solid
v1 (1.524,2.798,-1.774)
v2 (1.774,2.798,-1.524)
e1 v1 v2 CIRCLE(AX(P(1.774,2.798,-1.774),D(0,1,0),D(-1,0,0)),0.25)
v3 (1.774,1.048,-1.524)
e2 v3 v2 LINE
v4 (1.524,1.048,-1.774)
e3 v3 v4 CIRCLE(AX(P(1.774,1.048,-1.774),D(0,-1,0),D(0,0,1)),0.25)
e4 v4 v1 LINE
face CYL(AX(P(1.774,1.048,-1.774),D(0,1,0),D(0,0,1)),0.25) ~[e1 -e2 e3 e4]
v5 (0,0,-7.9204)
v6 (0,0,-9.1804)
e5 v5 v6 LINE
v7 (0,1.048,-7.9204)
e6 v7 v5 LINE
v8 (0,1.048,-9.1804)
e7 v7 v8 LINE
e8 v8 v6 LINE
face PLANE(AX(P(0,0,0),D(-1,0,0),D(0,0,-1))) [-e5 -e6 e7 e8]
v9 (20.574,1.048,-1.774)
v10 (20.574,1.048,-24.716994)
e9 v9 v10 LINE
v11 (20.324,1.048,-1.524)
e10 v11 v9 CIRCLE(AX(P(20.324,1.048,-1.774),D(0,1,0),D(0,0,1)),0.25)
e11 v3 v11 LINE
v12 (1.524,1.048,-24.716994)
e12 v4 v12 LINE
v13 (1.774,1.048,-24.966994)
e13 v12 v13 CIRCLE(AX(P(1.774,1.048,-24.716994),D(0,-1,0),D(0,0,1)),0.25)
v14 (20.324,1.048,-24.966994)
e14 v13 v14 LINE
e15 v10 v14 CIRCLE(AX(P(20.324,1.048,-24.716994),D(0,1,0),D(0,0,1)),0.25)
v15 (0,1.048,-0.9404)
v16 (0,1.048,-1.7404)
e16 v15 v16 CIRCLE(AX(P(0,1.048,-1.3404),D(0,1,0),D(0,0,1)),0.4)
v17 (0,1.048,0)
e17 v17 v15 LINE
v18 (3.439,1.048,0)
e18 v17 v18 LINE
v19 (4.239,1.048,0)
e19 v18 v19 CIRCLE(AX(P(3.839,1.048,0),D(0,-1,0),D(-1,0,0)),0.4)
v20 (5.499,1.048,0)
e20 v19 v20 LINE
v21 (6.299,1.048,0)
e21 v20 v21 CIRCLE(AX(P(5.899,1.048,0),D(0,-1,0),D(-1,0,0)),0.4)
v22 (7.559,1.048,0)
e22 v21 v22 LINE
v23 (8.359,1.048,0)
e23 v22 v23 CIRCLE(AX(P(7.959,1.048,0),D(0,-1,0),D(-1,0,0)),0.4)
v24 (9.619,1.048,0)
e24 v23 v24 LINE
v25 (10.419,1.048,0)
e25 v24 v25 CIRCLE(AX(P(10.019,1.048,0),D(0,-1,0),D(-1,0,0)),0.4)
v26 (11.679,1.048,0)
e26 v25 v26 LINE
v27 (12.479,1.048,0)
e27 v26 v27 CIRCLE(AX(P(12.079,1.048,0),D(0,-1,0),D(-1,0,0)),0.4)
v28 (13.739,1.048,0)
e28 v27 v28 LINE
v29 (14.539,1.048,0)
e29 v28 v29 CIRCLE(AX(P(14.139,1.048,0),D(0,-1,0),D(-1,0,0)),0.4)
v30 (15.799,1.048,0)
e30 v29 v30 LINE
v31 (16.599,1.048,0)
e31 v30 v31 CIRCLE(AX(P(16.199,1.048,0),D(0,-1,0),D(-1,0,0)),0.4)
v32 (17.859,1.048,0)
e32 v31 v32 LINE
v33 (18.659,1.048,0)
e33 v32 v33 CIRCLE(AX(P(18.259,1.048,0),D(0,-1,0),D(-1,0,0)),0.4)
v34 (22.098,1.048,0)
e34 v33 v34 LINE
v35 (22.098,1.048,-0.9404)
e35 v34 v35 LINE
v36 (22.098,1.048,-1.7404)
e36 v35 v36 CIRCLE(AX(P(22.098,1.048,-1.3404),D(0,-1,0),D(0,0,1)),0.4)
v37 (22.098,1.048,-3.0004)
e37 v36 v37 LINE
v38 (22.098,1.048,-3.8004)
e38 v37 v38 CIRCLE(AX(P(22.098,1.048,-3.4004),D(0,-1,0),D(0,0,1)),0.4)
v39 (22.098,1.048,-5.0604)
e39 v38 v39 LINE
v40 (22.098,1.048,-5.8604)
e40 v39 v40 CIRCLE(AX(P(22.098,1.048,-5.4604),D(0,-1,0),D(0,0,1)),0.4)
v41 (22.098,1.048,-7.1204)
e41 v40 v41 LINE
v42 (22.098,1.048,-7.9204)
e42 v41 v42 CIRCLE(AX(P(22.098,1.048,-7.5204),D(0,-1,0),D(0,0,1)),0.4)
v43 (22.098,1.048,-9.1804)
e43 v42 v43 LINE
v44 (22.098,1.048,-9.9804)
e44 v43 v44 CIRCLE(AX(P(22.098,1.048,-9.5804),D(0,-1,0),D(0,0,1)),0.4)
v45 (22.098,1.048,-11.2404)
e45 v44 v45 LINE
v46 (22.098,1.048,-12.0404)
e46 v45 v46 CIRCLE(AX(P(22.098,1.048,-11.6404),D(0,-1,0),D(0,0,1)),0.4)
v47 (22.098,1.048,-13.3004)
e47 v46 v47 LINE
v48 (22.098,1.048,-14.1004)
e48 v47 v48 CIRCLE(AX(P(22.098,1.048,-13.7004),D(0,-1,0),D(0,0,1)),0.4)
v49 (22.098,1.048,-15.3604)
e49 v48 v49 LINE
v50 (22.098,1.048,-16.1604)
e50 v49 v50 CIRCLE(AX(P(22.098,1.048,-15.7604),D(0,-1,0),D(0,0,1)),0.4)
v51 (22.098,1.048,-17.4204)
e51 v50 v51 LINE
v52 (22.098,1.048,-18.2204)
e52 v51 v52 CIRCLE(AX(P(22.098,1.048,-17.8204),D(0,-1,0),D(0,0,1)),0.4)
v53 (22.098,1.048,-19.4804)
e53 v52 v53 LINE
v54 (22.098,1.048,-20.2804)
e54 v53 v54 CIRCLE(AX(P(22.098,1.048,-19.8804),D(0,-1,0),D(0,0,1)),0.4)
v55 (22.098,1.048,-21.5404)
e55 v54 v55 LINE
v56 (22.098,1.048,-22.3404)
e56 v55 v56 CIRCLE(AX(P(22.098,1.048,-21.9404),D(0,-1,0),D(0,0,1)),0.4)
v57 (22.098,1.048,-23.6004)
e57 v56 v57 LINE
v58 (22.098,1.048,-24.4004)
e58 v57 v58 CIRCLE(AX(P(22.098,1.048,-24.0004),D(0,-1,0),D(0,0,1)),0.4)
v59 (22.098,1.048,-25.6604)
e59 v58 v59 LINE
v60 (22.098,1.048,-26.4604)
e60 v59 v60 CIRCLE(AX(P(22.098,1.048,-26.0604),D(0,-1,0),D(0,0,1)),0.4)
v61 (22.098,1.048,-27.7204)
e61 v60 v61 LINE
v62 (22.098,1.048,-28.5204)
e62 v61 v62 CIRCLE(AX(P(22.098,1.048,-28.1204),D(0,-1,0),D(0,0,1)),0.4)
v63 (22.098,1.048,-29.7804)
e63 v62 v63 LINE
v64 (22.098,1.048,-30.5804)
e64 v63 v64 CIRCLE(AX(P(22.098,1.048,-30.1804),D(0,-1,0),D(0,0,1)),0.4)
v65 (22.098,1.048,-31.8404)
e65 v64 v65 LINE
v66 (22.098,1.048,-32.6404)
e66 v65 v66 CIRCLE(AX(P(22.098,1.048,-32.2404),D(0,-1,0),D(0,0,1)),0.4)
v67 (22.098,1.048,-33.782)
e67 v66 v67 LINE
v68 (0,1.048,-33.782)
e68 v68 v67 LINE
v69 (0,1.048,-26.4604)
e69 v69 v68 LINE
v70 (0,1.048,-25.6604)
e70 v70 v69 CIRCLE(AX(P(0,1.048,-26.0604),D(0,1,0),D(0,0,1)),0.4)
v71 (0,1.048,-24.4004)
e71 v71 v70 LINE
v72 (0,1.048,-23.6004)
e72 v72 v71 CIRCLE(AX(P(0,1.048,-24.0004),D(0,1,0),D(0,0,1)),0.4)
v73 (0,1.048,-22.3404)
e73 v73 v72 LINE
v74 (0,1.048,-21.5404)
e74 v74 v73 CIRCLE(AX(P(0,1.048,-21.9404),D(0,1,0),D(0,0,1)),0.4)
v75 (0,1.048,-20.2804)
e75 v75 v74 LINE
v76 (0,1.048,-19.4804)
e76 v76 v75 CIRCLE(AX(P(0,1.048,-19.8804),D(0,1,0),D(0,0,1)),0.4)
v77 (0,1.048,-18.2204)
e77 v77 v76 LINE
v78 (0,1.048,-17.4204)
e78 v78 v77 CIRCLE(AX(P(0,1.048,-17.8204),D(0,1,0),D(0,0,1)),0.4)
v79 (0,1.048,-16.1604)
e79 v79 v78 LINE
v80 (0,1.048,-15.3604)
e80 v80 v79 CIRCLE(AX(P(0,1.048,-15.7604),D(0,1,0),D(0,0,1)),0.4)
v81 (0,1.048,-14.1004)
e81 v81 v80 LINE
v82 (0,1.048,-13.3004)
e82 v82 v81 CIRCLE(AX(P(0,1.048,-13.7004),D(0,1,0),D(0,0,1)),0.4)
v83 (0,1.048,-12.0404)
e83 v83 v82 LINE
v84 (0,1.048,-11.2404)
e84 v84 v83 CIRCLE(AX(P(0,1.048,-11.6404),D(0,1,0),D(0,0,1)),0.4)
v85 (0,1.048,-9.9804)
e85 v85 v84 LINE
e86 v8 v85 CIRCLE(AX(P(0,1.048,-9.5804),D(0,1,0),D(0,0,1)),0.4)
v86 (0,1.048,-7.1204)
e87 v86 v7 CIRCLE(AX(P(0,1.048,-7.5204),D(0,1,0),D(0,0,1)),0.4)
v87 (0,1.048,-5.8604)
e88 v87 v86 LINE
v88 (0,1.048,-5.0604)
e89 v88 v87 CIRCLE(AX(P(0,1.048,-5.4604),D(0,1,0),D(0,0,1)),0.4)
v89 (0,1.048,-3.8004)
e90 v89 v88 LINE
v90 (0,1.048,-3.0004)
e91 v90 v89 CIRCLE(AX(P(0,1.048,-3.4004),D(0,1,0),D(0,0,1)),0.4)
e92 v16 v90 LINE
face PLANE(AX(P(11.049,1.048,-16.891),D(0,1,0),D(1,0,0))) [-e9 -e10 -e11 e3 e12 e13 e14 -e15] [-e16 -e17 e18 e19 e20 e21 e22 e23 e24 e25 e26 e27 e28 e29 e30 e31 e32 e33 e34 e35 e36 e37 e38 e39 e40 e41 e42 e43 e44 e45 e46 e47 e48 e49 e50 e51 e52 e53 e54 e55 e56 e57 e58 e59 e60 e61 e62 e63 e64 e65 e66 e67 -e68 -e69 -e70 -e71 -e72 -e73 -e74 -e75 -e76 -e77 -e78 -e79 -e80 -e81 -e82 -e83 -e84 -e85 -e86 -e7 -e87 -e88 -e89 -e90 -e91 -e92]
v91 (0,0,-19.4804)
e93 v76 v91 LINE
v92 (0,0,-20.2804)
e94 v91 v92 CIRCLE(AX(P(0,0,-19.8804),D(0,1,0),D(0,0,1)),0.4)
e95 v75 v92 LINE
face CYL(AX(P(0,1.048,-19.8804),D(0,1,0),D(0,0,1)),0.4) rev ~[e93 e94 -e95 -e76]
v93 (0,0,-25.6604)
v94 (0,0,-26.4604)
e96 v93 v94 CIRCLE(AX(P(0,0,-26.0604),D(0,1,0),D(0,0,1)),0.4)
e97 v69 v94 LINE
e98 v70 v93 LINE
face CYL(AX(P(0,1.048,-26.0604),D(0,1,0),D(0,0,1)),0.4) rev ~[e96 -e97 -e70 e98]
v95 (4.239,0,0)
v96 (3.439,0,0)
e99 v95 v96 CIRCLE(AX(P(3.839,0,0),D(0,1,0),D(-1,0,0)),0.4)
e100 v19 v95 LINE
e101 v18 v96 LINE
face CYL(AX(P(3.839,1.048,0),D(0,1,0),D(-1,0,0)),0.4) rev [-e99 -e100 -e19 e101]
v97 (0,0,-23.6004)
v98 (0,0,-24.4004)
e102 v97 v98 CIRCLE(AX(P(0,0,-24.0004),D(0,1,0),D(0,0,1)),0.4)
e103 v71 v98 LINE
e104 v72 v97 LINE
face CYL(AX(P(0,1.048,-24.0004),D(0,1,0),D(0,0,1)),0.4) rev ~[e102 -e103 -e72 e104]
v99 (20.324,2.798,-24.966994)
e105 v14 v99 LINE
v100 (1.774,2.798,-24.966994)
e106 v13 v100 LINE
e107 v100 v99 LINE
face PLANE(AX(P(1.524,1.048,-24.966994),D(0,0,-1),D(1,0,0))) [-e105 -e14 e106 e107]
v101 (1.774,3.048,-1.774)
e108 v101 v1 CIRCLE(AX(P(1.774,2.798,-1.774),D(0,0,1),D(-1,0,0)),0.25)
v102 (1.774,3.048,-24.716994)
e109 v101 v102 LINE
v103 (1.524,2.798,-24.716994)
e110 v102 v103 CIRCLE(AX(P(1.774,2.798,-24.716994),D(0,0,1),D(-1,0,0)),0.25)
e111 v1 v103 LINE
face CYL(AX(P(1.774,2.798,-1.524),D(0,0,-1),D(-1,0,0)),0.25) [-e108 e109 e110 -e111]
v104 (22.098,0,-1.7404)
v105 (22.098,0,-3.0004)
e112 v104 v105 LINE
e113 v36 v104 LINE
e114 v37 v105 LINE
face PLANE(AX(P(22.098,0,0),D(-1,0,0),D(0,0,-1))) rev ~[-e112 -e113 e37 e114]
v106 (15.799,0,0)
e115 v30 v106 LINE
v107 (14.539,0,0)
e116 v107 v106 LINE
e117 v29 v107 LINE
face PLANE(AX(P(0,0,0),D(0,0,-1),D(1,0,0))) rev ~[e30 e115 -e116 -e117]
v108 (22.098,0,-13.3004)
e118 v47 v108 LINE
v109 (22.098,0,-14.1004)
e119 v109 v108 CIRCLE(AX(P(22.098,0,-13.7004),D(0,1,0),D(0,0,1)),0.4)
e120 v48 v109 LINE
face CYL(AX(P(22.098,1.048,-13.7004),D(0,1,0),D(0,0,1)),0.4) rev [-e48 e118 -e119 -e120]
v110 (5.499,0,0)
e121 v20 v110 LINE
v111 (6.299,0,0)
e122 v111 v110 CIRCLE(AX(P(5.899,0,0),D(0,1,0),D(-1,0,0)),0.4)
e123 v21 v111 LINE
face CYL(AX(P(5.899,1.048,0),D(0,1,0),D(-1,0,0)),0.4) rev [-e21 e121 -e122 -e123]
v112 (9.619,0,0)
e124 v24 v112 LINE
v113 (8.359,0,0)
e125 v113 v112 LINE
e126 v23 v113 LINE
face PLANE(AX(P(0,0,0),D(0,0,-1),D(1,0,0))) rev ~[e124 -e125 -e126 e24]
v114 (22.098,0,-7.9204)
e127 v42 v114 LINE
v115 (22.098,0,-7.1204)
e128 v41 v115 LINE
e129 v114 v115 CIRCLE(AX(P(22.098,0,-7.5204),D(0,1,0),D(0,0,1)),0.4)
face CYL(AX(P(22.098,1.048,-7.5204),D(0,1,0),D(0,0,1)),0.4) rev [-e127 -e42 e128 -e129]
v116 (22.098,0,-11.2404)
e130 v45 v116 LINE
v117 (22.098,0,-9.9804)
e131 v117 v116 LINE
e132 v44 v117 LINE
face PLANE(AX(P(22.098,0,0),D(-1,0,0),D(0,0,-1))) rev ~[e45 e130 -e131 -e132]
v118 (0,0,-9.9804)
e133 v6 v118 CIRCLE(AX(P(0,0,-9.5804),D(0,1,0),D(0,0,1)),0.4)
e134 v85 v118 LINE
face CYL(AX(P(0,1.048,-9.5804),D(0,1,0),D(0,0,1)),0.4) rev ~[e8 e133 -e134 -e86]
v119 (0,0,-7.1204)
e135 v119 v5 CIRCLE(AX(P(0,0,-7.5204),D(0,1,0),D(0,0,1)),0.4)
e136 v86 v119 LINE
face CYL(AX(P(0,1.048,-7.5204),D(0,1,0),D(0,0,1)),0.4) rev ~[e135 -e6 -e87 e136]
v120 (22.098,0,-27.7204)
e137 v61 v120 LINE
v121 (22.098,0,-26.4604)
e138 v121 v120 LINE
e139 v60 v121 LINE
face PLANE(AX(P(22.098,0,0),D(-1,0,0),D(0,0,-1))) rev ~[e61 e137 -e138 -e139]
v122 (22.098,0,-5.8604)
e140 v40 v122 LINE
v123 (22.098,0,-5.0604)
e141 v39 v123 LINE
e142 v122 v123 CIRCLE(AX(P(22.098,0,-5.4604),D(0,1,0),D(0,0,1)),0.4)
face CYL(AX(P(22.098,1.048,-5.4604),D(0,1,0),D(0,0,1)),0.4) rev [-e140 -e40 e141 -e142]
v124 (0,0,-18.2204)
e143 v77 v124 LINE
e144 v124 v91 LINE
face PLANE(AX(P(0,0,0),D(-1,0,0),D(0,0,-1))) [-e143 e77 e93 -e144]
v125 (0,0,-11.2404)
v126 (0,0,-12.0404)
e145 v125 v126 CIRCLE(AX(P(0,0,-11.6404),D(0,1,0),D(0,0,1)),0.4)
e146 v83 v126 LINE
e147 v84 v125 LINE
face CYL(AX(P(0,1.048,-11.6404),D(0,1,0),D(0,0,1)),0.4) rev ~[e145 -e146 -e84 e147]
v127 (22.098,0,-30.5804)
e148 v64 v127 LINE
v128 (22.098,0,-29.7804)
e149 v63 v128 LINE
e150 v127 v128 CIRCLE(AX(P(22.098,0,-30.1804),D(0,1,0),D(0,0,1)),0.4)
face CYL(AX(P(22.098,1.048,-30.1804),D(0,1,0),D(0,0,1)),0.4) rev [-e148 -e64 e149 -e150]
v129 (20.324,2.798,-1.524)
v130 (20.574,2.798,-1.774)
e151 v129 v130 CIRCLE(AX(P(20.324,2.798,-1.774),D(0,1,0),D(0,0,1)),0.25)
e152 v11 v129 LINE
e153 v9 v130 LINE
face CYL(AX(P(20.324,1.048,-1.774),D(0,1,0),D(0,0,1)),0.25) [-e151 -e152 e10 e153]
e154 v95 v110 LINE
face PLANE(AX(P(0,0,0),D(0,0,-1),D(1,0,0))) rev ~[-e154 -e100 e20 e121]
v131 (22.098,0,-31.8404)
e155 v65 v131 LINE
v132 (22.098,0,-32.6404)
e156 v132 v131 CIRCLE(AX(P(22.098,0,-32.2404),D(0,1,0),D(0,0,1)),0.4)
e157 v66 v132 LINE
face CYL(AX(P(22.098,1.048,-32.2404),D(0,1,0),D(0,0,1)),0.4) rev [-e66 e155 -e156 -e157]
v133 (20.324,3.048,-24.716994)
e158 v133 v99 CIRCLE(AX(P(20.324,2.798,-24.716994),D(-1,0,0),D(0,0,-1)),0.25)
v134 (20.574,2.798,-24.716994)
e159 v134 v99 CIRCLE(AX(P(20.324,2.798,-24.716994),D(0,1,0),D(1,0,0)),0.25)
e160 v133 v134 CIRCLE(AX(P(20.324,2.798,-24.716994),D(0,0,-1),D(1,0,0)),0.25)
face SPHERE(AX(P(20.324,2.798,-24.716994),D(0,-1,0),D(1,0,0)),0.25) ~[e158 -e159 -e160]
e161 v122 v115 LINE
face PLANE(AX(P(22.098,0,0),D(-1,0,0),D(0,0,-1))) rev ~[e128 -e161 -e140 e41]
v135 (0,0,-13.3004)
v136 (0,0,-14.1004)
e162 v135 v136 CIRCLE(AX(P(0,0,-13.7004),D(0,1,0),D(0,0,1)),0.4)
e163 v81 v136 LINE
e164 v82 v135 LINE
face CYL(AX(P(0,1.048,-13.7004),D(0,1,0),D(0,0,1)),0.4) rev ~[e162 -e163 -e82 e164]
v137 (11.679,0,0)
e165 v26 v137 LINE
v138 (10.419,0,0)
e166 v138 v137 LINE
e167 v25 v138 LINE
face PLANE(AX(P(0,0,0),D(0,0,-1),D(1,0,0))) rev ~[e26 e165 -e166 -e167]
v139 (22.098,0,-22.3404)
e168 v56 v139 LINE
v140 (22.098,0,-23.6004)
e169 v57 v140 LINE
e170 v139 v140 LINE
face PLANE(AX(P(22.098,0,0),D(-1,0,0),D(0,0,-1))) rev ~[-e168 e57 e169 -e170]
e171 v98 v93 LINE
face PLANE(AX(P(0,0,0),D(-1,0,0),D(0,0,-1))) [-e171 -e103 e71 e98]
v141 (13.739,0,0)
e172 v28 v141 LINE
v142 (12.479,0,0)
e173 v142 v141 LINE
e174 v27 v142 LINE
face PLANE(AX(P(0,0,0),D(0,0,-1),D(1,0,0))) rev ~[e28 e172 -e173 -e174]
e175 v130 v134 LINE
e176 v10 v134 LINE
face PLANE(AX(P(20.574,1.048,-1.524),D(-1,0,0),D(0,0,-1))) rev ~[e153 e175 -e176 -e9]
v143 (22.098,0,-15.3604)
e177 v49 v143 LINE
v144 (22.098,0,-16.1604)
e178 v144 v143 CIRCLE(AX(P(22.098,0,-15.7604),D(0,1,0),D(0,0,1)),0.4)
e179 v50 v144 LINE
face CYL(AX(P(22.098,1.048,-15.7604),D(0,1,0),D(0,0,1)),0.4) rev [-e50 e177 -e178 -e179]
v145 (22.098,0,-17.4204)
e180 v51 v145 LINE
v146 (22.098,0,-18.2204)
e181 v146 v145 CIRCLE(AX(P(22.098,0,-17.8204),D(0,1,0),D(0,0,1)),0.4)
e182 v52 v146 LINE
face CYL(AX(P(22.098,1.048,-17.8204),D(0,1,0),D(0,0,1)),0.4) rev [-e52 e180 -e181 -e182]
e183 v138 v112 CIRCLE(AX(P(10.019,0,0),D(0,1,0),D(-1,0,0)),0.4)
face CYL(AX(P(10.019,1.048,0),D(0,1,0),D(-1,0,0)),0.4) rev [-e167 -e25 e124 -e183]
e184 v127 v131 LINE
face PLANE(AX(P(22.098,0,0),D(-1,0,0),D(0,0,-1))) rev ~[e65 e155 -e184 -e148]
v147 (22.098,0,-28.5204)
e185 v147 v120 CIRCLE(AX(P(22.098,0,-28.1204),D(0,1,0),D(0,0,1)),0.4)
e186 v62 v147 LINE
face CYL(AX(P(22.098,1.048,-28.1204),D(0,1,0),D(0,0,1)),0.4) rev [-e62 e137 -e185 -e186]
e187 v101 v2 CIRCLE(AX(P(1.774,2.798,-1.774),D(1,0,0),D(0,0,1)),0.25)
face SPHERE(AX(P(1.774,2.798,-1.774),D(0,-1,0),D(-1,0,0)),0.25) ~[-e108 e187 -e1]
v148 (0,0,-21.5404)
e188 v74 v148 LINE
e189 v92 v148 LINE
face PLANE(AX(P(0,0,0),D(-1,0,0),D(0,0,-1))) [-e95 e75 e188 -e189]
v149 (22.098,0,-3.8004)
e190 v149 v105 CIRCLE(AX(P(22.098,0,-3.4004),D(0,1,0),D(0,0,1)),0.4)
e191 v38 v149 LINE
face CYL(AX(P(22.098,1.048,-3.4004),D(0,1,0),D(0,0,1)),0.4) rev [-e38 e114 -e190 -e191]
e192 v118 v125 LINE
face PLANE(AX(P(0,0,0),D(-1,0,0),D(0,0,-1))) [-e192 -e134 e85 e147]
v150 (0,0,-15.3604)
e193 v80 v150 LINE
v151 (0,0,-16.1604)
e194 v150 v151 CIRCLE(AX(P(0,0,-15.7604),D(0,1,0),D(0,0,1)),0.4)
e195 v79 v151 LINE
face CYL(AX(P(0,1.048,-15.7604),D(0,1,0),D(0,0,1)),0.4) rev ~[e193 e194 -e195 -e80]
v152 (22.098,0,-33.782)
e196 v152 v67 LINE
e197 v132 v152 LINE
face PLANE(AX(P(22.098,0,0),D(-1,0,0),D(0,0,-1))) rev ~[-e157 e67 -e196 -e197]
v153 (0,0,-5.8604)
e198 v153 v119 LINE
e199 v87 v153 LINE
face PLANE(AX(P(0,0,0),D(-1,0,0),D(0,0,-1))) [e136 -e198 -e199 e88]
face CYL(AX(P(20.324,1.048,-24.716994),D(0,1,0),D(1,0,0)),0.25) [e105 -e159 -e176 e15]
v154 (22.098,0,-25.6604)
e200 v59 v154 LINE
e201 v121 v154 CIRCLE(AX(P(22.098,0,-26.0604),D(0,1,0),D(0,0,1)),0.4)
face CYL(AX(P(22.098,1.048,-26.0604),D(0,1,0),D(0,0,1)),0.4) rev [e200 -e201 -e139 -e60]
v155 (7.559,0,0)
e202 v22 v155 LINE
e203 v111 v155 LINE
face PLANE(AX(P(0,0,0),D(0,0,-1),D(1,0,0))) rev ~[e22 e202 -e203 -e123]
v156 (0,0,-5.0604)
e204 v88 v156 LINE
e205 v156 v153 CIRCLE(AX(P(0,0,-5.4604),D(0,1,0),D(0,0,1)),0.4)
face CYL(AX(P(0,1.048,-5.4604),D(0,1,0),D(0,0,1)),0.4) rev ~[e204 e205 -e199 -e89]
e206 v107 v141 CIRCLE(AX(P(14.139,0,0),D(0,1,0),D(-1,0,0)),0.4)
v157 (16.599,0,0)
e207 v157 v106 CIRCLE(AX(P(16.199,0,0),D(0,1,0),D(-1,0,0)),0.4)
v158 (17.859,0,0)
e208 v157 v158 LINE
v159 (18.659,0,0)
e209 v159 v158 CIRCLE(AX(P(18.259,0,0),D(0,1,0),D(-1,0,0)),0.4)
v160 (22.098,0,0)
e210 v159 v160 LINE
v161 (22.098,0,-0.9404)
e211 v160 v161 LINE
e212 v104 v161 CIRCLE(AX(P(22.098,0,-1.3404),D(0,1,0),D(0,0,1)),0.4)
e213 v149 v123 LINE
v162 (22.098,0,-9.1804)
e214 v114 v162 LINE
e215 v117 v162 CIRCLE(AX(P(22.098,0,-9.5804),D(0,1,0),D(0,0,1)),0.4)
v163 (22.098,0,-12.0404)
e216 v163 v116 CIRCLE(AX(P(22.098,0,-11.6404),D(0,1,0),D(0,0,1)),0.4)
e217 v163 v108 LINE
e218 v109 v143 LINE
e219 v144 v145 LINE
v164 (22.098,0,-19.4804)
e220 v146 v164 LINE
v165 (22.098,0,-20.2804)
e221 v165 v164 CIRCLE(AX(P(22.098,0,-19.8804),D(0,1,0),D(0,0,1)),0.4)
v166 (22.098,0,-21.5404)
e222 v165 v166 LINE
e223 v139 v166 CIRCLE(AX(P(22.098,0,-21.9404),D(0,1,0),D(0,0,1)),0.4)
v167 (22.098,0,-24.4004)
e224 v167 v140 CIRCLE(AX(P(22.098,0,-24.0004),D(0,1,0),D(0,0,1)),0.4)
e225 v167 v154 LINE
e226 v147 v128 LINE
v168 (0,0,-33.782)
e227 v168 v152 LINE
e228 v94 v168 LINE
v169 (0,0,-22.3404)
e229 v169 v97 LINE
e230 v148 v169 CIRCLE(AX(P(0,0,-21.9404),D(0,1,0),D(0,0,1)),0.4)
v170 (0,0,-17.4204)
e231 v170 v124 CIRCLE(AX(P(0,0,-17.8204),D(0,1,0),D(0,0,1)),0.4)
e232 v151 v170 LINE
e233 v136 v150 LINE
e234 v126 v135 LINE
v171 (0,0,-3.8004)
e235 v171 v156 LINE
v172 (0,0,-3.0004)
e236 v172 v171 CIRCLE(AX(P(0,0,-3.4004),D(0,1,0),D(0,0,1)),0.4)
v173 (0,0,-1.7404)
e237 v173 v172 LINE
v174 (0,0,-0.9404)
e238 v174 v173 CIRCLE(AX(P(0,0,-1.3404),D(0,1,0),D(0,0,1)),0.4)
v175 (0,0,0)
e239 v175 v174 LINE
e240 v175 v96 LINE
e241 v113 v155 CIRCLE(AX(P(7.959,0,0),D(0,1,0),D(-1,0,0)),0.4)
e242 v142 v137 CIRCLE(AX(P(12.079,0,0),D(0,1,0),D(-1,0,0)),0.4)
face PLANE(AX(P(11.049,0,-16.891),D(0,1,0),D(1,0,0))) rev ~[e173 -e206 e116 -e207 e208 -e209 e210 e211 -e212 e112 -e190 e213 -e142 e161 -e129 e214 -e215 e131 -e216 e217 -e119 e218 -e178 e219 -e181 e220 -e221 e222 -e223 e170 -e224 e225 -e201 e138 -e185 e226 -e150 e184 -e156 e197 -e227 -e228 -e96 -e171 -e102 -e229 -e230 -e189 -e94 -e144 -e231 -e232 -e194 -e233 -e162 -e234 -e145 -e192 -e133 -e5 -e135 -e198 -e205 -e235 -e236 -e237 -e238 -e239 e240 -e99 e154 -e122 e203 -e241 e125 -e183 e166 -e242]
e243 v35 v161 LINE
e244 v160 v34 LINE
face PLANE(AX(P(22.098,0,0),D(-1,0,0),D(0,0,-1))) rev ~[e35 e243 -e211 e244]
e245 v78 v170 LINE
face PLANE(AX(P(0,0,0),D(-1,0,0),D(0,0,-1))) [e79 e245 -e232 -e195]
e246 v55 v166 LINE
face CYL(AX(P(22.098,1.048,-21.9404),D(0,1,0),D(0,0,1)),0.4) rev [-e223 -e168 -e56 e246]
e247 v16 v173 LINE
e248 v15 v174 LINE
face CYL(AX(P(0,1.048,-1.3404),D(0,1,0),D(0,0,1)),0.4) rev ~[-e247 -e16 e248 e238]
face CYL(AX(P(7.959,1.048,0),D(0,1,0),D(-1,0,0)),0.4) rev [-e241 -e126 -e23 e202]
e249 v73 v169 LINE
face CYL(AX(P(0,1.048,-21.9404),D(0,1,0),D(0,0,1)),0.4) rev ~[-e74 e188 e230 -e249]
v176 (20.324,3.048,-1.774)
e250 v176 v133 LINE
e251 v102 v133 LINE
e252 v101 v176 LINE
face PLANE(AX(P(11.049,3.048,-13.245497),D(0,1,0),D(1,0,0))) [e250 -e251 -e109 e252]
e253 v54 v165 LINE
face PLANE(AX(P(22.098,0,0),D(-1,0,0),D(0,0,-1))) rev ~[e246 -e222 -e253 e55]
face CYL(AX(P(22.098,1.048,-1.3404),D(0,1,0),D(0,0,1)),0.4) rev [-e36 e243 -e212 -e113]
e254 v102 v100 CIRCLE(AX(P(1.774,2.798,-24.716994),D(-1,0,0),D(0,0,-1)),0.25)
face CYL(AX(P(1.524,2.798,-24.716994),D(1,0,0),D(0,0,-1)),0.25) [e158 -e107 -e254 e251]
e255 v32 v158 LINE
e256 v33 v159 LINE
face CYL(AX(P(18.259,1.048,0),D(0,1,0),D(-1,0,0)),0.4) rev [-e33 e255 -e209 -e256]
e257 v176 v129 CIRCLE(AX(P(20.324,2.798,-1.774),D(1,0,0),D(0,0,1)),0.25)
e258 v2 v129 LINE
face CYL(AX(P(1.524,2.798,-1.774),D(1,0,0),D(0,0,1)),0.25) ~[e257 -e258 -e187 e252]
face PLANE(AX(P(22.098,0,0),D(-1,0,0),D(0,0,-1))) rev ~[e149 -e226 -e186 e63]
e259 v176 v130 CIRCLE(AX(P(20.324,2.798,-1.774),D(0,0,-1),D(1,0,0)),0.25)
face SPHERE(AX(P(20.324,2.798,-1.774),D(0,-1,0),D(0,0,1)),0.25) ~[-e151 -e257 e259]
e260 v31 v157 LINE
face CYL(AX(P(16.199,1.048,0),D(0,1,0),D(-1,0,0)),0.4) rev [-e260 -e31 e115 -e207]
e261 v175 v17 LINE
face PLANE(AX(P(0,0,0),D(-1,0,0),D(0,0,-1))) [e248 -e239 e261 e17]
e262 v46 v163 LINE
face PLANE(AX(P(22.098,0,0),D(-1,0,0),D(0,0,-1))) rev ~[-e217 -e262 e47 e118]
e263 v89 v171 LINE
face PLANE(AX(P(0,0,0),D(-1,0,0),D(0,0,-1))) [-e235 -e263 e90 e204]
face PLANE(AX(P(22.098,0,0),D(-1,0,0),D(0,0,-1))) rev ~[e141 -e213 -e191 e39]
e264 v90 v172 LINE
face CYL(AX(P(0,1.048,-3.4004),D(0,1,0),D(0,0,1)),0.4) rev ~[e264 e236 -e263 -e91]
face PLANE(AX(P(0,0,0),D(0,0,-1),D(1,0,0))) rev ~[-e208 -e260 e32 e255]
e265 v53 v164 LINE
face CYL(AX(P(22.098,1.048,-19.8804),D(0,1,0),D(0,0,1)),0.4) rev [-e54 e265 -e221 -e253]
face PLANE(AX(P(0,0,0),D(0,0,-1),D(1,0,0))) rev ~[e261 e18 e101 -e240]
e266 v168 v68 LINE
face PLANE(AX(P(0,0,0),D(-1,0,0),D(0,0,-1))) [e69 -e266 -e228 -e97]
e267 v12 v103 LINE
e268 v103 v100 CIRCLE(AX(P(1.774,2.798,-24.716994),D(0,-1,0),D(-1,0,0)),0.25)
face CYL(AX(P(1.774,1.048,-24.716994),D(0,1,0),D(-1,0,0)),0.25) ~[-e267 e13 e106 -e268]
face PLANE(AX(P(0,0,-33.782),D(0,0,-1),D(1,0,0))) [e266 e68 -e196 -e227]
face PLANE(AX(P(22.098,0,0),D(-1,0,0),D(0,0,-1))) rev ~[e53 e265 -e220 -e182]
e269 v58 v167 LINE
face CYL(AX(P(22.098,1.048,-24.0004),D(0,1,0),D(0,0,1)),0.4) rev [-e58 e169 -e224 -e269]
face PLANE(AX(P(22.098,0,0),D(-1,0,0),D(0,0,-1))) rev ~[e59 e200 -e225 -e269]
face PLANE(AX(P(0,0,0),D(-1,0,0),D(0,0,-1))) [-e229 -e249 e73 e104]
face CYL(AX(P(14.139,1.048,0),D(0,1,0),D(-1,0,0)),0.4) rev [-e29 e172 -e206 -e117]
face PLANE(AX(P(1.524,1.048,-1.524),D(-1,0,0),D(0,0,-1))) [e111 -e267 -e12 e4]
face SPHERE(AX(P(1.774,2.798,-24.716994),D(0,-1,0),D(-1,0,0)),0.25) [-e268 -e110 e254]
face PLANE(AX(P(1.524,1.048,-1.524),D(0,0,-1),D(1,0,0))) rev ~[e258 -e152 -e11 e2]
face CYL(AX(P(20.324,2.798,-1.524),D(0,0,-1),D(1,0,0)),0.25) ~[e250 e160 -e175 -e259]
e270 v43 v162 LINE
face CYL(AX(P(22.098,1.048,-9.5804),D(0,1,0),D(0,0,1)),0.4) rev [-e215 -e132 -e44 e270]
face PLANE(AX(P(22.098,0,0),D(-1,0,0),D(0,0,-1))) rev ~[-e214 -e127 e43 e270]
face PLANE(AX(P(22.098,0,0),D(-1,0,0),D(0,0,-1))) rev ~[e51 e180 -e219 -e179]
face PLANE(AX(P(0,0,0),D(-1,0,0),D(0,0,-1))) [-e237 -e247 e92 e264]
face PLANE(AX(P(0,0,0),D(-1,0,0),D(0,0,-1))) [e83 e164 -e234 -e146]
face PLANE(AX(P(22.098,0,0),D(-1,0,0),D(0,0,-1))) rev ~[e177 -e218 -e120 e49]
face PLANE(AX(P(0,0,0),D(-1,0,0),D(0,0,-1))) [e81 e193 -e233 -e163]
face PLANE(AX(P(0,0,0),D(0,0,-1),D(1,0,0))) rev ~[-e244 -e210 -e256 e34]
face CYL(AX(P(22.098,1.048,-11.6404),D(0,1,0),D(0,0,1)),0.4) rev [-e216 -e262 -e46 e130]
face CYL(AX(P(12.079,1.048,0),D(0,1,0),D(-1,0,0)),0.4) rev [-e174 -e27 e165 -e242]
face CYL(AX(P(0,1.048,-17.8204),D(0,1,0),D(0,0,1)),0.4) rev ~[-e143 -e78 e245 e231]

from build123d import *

# Parameters (mm, degrees)
ESQUISSE1_W             = 22.098
ESQUISSE1_H             = 33.782
BOSS_EXTRU_1_DEPTH      = 1.048
ESQUISSE2_W             = 19.05
ESQUISSE2_H             = 23.442994478
BOSS_EXTRU_2_DEPTH      = 2
ENL_V_MAT_EXTRU_1_DEPTH = 2
CONG_1_R                = 0.25


with BuildPart() as part:
    # Esquisse1 → Boss.-Extru.1 (new body)
    with BuildSketch(Plane(origin=(0, 0, 0), x_dir=(1, 0, 0), z_dir=(0, 1, 0))):
        with Locations((11.049, 16.891)):
            Rectangle(ESQUISSE1_W, ESQUISSE1_H)
    extrude(amount=BOSS_EXTRU_1_DEPTH)

    # Esquisse2 → Boss.-Extru.2 (add)
    with BuildSketch(Plane(origin=(0, 1.048, 0), x_dir=(1, 0, 0), z_dir=(0, 1, 0))):
        with Locations((11.049, 13.245497239)):
            Rectangle(ESQUISSE2_W, ESQUISSE2_H)
    extrude(amount=BOSS_EXTRU_2_DEPTH)

    # Esquisse3 → Enlèv. mat.-Extru.1 (cut)
    with BuildSketch(Plane(origin=(0, 1.048, 0), x_dir=(1, 0, 0), z_dir=(0, 1, 0))):
        with BuildLine():
            Line((0, 26.4604), (0, 25.6604))
            ThreePointArc((0, 25.6604), (0.4, 26.0604), (0, 26.4604))
        make_face()
        with BuildLine():
            Line((22.098, 26.4604), (22.098, 25.6604))
            ThreePointArc((22.098, 25.6604), (21.698, 26.0604), (22.098, 26.4604))
        make_face()
        with BuildLine():
            Line((22.098, 24.4004), (22.098, 23.6004))
            ThreePointArc((22.098, 23.6004), (21.698, 24.0004), (22.098, 24.4004))
        make_face()
        with BuildLine():
            Line((0, 24.4004), (0, 23.6004))
            ThreePointArc((0, 23.6004), (0.4, 24.0004), (0, 24.4004))
        make_face()
        with BuildLine():
            Line((22.098, 22.3404), (22.098, 21.5404))
            ThreePointArc((22.098, 21.5404), (21.698, 21.9404), (22.098, 22.3404))
        make_face()
        with BuildLine():
            Line((0, 22.3404), (0, 21.5404))
            ThreePointArc((0, 21.5404), (0.4, 21.9404), (0, 22.3404))
        make_face()
        with BuildLine():
            Line((22.098, 20.2804), (22.098, 19.4804))
            ThreePointArc((22.098, 19.4804), (21.698, 19.8804), (22.098, 20.2804))
        make_face()
        with BuildLine():
            Line((0, 20.2804), (0, 19.4804))
            ThreePointArc((0, 19.4804), (0.4, 19.8804), (0, 20.2804))
        make_face()
        with BuildLine():
            Line((22.098, 18.2204), (22.098, 17.4204))
            ThreePointArc((22.098, 17.4204), (21.698, 17.8204), (22.098, 18.2204))
        make_face()
        with BuildLine():
            Line((0, 18.2204), (0, 17.4204))
            ThreePointArc((0, 17.4204), (0.4, 17.8204), (0, 18.2204))
        make_face()
        with BuildLine():
            Line((22.098, 16.1604), (22.098, 15.3604))
            ThreePointArc((22.098, 15.3604), (21.698, 15.7604), (22.098, 16.1604))
        make_face()
        with BuildLine():
            Line((0, 16.1604), (0, 15.3604))
            ThreePointArc((0, 15.3604), (0.4, 15.7604), (0, 16.1604))
        make_face()
        with BuildLine():
            Line((22.098, 14.1004), (22.098, 13.3004))
            ThreePointArc((22.098, 13.3004), (21.698, 13.7004), (22.098, 14.1004))
        make_face()
        with BuildLine():
            Line((0, 14.1004), (0, 13.3004))
            ThreePointArc((0, 13.3004), (0.4, 13.7004), (0, 14.1004))
        make_face()
        with BuildLine():
            Line((22.098, 12.0404), (22.098, 11.2404))
            ThreePointArc((22.098, 11.2404), (21.698, 11.6404), (22.098, 12.0404))
        make_face()
        with BuildLine():
            Line((0, 12.0404), (0, 11.2404))
            ThreePointArc((0, 11.2404), (0.4, 11.6404), (0, 12.0404))
        make_face()
        with BuildLine():
            Line((22.098, 9.9804), (22.098, 9.1804))
            ThreePointArc((22.098, 9.1804), (21.698, 9.5804), (22.098, 9.9804))
        make_face()
        with BuildLine():
            Line((0, 9.9804), (0, 9.1804))
            ThreePointArc((0, 9.1804), (0.4, 9.5804), (0, 9.9804))
        make_face()
        with BuildLine():
            Line((22.098, 7.9204), (22.098, 7.1204))
            ThreePointArc((22.098, 7.1204), (21.698, 7.5204), (22.098, 7.9204))
        make_face()
        with BuildLine():
            Line((0, 7.9204), (0, 7.1204))
            ThreePointArc((0, 7.1204), (0.4, 7.5204), (0, 7.9204))
        make_face()
        with BuildLine():
            Line((22.098, 5.8604), (22.098, 5.0604))
            ThreePointArc((22.098, 5.0604), (21.698, 5.4604), (22.098, 5.8604))
        make_face()
        with BuildLine():
            Line((0, 5.8604), (0, 5.0604))
            ThreePointArc((0, 5.0604), (0.4, 5.4604), (0, 5.8604))
        make_face()
        with BuildLine():
            Line((22.098, 3.8004), (22.098, 3.0004))
            ThreePointArc((22.098, 3.0004), (21.698, 3.4004), (22.098, 3.8004))
        make_face()
        with BuildLine():
            Line((0, 3.8004), (0, 3.0004))
            ThreePointArc((0, 3.0004), (0.4, 3.4004), (0, 3.8004))
        make_face()
        with BuildLine():
            Line((22.098, 1.7404), (22.098, 0.9404))
            ThreePointArc((22.098, 0.9404), (21.698, 1.3404), (22.098, 1.7404))
        make_face()
        with BuildLine():
            Line((0, 1.7404), (0, 0.9404))
            ThreePointArc((0, 0.9404), (0.4, 1.3404), (0, 1.7404))
        make_face()
        with BuildLine():
            Line((22.098, 28.5204), (22.098, 27.7204))
            ThreePointArc((22.098, 27.7204), (21.698, 28.1204), (22.098, 28.5204))
        make_face()
        with BuildLine():
            Line((22.098, 30.5804), (22.098, 29.7804))
            ThreePointArc((22.098, 29.7804), (21.698, 30.1804), (22.098, 30.5804))
        make_face()
        with BuildLine():
            Line((22.098, 32.6404), (22.098, 31.8404))
            ThreePointArc((22.098, 31.8404), (21.698, 32.2404), (22.098, 32.6404))
        make_face()
        with BuildLine():
            Line((10.419, 0), (9.619, 0))
            ThreePointArc((9.619, 0), (10.019, 0.4), (10.419, 0))
        make_face()
        with BuildLine():
            Line((12.479, 0), (11.679, 0))
            ThreePointArc((11.679, 0), (12.079, 0.4), (12.479, 0))
        make_face()
        with BuildLine():
            Line((14.539, 0), (13.739, 0))
            ThreePointArc((13.739, 0), (14.139, 0.4), (14.539, 0))
        make_face()
        with BuildLine():
            Line((16.599, 0), (15.799, 0))
            ThreePointArc((15.799, 0), (16.199, 0.4), (16.599, 0))
        make_face()
        with BuildLine():
            Line((18.659, 0), (17.859, 0))
            ThreePointArc((17.859, 0), (18.259, 0.4), (18.659, 0))
        make_face()
        with BuildLine():
            Line((8.359, 0), (7.559, 0))
            ThreePointArc((7.559, 0), (7.959, 0.4), (8.359, 0))
        make_face()
        with BuildLine():
            Line((6.299, 0), (5.499, 0))
            ThreePointArc((5.499, 0), (5.899, 0.4), (6.299, 0))
        make_face()
        with BuildLine():
            Line((4.239, 0), (3.439, 0))
            ThreePointArc((3.439, 0), (3.839, 0.4), (4.239, 0))
        make_face()
    extrude(amount=-ENL_V_MAT_EXTRU_1_DEPTH, mode=Mode.SUBTRACT)

    # Congé1
    cong_1_edges = [part.edges().sort_by_distance(p)[0] for p in [
        (1.524, 2.048, -24.966994478),
        (1.524, 2.048, -1.524),
        (20.574, 2.048, -1.524),
        (20.574, 2.048, -24.966994478),
        (1.524, 3.048, -13.245497239),
        (11.049, 3.048, -1.524),
        (20.574, 3.048, -13.245497239),
        (11.049, 3.048, -24.966994478),
    ]]
    fillet(cong_1_edges, radius=CONG_1_R)


solid = part.part
